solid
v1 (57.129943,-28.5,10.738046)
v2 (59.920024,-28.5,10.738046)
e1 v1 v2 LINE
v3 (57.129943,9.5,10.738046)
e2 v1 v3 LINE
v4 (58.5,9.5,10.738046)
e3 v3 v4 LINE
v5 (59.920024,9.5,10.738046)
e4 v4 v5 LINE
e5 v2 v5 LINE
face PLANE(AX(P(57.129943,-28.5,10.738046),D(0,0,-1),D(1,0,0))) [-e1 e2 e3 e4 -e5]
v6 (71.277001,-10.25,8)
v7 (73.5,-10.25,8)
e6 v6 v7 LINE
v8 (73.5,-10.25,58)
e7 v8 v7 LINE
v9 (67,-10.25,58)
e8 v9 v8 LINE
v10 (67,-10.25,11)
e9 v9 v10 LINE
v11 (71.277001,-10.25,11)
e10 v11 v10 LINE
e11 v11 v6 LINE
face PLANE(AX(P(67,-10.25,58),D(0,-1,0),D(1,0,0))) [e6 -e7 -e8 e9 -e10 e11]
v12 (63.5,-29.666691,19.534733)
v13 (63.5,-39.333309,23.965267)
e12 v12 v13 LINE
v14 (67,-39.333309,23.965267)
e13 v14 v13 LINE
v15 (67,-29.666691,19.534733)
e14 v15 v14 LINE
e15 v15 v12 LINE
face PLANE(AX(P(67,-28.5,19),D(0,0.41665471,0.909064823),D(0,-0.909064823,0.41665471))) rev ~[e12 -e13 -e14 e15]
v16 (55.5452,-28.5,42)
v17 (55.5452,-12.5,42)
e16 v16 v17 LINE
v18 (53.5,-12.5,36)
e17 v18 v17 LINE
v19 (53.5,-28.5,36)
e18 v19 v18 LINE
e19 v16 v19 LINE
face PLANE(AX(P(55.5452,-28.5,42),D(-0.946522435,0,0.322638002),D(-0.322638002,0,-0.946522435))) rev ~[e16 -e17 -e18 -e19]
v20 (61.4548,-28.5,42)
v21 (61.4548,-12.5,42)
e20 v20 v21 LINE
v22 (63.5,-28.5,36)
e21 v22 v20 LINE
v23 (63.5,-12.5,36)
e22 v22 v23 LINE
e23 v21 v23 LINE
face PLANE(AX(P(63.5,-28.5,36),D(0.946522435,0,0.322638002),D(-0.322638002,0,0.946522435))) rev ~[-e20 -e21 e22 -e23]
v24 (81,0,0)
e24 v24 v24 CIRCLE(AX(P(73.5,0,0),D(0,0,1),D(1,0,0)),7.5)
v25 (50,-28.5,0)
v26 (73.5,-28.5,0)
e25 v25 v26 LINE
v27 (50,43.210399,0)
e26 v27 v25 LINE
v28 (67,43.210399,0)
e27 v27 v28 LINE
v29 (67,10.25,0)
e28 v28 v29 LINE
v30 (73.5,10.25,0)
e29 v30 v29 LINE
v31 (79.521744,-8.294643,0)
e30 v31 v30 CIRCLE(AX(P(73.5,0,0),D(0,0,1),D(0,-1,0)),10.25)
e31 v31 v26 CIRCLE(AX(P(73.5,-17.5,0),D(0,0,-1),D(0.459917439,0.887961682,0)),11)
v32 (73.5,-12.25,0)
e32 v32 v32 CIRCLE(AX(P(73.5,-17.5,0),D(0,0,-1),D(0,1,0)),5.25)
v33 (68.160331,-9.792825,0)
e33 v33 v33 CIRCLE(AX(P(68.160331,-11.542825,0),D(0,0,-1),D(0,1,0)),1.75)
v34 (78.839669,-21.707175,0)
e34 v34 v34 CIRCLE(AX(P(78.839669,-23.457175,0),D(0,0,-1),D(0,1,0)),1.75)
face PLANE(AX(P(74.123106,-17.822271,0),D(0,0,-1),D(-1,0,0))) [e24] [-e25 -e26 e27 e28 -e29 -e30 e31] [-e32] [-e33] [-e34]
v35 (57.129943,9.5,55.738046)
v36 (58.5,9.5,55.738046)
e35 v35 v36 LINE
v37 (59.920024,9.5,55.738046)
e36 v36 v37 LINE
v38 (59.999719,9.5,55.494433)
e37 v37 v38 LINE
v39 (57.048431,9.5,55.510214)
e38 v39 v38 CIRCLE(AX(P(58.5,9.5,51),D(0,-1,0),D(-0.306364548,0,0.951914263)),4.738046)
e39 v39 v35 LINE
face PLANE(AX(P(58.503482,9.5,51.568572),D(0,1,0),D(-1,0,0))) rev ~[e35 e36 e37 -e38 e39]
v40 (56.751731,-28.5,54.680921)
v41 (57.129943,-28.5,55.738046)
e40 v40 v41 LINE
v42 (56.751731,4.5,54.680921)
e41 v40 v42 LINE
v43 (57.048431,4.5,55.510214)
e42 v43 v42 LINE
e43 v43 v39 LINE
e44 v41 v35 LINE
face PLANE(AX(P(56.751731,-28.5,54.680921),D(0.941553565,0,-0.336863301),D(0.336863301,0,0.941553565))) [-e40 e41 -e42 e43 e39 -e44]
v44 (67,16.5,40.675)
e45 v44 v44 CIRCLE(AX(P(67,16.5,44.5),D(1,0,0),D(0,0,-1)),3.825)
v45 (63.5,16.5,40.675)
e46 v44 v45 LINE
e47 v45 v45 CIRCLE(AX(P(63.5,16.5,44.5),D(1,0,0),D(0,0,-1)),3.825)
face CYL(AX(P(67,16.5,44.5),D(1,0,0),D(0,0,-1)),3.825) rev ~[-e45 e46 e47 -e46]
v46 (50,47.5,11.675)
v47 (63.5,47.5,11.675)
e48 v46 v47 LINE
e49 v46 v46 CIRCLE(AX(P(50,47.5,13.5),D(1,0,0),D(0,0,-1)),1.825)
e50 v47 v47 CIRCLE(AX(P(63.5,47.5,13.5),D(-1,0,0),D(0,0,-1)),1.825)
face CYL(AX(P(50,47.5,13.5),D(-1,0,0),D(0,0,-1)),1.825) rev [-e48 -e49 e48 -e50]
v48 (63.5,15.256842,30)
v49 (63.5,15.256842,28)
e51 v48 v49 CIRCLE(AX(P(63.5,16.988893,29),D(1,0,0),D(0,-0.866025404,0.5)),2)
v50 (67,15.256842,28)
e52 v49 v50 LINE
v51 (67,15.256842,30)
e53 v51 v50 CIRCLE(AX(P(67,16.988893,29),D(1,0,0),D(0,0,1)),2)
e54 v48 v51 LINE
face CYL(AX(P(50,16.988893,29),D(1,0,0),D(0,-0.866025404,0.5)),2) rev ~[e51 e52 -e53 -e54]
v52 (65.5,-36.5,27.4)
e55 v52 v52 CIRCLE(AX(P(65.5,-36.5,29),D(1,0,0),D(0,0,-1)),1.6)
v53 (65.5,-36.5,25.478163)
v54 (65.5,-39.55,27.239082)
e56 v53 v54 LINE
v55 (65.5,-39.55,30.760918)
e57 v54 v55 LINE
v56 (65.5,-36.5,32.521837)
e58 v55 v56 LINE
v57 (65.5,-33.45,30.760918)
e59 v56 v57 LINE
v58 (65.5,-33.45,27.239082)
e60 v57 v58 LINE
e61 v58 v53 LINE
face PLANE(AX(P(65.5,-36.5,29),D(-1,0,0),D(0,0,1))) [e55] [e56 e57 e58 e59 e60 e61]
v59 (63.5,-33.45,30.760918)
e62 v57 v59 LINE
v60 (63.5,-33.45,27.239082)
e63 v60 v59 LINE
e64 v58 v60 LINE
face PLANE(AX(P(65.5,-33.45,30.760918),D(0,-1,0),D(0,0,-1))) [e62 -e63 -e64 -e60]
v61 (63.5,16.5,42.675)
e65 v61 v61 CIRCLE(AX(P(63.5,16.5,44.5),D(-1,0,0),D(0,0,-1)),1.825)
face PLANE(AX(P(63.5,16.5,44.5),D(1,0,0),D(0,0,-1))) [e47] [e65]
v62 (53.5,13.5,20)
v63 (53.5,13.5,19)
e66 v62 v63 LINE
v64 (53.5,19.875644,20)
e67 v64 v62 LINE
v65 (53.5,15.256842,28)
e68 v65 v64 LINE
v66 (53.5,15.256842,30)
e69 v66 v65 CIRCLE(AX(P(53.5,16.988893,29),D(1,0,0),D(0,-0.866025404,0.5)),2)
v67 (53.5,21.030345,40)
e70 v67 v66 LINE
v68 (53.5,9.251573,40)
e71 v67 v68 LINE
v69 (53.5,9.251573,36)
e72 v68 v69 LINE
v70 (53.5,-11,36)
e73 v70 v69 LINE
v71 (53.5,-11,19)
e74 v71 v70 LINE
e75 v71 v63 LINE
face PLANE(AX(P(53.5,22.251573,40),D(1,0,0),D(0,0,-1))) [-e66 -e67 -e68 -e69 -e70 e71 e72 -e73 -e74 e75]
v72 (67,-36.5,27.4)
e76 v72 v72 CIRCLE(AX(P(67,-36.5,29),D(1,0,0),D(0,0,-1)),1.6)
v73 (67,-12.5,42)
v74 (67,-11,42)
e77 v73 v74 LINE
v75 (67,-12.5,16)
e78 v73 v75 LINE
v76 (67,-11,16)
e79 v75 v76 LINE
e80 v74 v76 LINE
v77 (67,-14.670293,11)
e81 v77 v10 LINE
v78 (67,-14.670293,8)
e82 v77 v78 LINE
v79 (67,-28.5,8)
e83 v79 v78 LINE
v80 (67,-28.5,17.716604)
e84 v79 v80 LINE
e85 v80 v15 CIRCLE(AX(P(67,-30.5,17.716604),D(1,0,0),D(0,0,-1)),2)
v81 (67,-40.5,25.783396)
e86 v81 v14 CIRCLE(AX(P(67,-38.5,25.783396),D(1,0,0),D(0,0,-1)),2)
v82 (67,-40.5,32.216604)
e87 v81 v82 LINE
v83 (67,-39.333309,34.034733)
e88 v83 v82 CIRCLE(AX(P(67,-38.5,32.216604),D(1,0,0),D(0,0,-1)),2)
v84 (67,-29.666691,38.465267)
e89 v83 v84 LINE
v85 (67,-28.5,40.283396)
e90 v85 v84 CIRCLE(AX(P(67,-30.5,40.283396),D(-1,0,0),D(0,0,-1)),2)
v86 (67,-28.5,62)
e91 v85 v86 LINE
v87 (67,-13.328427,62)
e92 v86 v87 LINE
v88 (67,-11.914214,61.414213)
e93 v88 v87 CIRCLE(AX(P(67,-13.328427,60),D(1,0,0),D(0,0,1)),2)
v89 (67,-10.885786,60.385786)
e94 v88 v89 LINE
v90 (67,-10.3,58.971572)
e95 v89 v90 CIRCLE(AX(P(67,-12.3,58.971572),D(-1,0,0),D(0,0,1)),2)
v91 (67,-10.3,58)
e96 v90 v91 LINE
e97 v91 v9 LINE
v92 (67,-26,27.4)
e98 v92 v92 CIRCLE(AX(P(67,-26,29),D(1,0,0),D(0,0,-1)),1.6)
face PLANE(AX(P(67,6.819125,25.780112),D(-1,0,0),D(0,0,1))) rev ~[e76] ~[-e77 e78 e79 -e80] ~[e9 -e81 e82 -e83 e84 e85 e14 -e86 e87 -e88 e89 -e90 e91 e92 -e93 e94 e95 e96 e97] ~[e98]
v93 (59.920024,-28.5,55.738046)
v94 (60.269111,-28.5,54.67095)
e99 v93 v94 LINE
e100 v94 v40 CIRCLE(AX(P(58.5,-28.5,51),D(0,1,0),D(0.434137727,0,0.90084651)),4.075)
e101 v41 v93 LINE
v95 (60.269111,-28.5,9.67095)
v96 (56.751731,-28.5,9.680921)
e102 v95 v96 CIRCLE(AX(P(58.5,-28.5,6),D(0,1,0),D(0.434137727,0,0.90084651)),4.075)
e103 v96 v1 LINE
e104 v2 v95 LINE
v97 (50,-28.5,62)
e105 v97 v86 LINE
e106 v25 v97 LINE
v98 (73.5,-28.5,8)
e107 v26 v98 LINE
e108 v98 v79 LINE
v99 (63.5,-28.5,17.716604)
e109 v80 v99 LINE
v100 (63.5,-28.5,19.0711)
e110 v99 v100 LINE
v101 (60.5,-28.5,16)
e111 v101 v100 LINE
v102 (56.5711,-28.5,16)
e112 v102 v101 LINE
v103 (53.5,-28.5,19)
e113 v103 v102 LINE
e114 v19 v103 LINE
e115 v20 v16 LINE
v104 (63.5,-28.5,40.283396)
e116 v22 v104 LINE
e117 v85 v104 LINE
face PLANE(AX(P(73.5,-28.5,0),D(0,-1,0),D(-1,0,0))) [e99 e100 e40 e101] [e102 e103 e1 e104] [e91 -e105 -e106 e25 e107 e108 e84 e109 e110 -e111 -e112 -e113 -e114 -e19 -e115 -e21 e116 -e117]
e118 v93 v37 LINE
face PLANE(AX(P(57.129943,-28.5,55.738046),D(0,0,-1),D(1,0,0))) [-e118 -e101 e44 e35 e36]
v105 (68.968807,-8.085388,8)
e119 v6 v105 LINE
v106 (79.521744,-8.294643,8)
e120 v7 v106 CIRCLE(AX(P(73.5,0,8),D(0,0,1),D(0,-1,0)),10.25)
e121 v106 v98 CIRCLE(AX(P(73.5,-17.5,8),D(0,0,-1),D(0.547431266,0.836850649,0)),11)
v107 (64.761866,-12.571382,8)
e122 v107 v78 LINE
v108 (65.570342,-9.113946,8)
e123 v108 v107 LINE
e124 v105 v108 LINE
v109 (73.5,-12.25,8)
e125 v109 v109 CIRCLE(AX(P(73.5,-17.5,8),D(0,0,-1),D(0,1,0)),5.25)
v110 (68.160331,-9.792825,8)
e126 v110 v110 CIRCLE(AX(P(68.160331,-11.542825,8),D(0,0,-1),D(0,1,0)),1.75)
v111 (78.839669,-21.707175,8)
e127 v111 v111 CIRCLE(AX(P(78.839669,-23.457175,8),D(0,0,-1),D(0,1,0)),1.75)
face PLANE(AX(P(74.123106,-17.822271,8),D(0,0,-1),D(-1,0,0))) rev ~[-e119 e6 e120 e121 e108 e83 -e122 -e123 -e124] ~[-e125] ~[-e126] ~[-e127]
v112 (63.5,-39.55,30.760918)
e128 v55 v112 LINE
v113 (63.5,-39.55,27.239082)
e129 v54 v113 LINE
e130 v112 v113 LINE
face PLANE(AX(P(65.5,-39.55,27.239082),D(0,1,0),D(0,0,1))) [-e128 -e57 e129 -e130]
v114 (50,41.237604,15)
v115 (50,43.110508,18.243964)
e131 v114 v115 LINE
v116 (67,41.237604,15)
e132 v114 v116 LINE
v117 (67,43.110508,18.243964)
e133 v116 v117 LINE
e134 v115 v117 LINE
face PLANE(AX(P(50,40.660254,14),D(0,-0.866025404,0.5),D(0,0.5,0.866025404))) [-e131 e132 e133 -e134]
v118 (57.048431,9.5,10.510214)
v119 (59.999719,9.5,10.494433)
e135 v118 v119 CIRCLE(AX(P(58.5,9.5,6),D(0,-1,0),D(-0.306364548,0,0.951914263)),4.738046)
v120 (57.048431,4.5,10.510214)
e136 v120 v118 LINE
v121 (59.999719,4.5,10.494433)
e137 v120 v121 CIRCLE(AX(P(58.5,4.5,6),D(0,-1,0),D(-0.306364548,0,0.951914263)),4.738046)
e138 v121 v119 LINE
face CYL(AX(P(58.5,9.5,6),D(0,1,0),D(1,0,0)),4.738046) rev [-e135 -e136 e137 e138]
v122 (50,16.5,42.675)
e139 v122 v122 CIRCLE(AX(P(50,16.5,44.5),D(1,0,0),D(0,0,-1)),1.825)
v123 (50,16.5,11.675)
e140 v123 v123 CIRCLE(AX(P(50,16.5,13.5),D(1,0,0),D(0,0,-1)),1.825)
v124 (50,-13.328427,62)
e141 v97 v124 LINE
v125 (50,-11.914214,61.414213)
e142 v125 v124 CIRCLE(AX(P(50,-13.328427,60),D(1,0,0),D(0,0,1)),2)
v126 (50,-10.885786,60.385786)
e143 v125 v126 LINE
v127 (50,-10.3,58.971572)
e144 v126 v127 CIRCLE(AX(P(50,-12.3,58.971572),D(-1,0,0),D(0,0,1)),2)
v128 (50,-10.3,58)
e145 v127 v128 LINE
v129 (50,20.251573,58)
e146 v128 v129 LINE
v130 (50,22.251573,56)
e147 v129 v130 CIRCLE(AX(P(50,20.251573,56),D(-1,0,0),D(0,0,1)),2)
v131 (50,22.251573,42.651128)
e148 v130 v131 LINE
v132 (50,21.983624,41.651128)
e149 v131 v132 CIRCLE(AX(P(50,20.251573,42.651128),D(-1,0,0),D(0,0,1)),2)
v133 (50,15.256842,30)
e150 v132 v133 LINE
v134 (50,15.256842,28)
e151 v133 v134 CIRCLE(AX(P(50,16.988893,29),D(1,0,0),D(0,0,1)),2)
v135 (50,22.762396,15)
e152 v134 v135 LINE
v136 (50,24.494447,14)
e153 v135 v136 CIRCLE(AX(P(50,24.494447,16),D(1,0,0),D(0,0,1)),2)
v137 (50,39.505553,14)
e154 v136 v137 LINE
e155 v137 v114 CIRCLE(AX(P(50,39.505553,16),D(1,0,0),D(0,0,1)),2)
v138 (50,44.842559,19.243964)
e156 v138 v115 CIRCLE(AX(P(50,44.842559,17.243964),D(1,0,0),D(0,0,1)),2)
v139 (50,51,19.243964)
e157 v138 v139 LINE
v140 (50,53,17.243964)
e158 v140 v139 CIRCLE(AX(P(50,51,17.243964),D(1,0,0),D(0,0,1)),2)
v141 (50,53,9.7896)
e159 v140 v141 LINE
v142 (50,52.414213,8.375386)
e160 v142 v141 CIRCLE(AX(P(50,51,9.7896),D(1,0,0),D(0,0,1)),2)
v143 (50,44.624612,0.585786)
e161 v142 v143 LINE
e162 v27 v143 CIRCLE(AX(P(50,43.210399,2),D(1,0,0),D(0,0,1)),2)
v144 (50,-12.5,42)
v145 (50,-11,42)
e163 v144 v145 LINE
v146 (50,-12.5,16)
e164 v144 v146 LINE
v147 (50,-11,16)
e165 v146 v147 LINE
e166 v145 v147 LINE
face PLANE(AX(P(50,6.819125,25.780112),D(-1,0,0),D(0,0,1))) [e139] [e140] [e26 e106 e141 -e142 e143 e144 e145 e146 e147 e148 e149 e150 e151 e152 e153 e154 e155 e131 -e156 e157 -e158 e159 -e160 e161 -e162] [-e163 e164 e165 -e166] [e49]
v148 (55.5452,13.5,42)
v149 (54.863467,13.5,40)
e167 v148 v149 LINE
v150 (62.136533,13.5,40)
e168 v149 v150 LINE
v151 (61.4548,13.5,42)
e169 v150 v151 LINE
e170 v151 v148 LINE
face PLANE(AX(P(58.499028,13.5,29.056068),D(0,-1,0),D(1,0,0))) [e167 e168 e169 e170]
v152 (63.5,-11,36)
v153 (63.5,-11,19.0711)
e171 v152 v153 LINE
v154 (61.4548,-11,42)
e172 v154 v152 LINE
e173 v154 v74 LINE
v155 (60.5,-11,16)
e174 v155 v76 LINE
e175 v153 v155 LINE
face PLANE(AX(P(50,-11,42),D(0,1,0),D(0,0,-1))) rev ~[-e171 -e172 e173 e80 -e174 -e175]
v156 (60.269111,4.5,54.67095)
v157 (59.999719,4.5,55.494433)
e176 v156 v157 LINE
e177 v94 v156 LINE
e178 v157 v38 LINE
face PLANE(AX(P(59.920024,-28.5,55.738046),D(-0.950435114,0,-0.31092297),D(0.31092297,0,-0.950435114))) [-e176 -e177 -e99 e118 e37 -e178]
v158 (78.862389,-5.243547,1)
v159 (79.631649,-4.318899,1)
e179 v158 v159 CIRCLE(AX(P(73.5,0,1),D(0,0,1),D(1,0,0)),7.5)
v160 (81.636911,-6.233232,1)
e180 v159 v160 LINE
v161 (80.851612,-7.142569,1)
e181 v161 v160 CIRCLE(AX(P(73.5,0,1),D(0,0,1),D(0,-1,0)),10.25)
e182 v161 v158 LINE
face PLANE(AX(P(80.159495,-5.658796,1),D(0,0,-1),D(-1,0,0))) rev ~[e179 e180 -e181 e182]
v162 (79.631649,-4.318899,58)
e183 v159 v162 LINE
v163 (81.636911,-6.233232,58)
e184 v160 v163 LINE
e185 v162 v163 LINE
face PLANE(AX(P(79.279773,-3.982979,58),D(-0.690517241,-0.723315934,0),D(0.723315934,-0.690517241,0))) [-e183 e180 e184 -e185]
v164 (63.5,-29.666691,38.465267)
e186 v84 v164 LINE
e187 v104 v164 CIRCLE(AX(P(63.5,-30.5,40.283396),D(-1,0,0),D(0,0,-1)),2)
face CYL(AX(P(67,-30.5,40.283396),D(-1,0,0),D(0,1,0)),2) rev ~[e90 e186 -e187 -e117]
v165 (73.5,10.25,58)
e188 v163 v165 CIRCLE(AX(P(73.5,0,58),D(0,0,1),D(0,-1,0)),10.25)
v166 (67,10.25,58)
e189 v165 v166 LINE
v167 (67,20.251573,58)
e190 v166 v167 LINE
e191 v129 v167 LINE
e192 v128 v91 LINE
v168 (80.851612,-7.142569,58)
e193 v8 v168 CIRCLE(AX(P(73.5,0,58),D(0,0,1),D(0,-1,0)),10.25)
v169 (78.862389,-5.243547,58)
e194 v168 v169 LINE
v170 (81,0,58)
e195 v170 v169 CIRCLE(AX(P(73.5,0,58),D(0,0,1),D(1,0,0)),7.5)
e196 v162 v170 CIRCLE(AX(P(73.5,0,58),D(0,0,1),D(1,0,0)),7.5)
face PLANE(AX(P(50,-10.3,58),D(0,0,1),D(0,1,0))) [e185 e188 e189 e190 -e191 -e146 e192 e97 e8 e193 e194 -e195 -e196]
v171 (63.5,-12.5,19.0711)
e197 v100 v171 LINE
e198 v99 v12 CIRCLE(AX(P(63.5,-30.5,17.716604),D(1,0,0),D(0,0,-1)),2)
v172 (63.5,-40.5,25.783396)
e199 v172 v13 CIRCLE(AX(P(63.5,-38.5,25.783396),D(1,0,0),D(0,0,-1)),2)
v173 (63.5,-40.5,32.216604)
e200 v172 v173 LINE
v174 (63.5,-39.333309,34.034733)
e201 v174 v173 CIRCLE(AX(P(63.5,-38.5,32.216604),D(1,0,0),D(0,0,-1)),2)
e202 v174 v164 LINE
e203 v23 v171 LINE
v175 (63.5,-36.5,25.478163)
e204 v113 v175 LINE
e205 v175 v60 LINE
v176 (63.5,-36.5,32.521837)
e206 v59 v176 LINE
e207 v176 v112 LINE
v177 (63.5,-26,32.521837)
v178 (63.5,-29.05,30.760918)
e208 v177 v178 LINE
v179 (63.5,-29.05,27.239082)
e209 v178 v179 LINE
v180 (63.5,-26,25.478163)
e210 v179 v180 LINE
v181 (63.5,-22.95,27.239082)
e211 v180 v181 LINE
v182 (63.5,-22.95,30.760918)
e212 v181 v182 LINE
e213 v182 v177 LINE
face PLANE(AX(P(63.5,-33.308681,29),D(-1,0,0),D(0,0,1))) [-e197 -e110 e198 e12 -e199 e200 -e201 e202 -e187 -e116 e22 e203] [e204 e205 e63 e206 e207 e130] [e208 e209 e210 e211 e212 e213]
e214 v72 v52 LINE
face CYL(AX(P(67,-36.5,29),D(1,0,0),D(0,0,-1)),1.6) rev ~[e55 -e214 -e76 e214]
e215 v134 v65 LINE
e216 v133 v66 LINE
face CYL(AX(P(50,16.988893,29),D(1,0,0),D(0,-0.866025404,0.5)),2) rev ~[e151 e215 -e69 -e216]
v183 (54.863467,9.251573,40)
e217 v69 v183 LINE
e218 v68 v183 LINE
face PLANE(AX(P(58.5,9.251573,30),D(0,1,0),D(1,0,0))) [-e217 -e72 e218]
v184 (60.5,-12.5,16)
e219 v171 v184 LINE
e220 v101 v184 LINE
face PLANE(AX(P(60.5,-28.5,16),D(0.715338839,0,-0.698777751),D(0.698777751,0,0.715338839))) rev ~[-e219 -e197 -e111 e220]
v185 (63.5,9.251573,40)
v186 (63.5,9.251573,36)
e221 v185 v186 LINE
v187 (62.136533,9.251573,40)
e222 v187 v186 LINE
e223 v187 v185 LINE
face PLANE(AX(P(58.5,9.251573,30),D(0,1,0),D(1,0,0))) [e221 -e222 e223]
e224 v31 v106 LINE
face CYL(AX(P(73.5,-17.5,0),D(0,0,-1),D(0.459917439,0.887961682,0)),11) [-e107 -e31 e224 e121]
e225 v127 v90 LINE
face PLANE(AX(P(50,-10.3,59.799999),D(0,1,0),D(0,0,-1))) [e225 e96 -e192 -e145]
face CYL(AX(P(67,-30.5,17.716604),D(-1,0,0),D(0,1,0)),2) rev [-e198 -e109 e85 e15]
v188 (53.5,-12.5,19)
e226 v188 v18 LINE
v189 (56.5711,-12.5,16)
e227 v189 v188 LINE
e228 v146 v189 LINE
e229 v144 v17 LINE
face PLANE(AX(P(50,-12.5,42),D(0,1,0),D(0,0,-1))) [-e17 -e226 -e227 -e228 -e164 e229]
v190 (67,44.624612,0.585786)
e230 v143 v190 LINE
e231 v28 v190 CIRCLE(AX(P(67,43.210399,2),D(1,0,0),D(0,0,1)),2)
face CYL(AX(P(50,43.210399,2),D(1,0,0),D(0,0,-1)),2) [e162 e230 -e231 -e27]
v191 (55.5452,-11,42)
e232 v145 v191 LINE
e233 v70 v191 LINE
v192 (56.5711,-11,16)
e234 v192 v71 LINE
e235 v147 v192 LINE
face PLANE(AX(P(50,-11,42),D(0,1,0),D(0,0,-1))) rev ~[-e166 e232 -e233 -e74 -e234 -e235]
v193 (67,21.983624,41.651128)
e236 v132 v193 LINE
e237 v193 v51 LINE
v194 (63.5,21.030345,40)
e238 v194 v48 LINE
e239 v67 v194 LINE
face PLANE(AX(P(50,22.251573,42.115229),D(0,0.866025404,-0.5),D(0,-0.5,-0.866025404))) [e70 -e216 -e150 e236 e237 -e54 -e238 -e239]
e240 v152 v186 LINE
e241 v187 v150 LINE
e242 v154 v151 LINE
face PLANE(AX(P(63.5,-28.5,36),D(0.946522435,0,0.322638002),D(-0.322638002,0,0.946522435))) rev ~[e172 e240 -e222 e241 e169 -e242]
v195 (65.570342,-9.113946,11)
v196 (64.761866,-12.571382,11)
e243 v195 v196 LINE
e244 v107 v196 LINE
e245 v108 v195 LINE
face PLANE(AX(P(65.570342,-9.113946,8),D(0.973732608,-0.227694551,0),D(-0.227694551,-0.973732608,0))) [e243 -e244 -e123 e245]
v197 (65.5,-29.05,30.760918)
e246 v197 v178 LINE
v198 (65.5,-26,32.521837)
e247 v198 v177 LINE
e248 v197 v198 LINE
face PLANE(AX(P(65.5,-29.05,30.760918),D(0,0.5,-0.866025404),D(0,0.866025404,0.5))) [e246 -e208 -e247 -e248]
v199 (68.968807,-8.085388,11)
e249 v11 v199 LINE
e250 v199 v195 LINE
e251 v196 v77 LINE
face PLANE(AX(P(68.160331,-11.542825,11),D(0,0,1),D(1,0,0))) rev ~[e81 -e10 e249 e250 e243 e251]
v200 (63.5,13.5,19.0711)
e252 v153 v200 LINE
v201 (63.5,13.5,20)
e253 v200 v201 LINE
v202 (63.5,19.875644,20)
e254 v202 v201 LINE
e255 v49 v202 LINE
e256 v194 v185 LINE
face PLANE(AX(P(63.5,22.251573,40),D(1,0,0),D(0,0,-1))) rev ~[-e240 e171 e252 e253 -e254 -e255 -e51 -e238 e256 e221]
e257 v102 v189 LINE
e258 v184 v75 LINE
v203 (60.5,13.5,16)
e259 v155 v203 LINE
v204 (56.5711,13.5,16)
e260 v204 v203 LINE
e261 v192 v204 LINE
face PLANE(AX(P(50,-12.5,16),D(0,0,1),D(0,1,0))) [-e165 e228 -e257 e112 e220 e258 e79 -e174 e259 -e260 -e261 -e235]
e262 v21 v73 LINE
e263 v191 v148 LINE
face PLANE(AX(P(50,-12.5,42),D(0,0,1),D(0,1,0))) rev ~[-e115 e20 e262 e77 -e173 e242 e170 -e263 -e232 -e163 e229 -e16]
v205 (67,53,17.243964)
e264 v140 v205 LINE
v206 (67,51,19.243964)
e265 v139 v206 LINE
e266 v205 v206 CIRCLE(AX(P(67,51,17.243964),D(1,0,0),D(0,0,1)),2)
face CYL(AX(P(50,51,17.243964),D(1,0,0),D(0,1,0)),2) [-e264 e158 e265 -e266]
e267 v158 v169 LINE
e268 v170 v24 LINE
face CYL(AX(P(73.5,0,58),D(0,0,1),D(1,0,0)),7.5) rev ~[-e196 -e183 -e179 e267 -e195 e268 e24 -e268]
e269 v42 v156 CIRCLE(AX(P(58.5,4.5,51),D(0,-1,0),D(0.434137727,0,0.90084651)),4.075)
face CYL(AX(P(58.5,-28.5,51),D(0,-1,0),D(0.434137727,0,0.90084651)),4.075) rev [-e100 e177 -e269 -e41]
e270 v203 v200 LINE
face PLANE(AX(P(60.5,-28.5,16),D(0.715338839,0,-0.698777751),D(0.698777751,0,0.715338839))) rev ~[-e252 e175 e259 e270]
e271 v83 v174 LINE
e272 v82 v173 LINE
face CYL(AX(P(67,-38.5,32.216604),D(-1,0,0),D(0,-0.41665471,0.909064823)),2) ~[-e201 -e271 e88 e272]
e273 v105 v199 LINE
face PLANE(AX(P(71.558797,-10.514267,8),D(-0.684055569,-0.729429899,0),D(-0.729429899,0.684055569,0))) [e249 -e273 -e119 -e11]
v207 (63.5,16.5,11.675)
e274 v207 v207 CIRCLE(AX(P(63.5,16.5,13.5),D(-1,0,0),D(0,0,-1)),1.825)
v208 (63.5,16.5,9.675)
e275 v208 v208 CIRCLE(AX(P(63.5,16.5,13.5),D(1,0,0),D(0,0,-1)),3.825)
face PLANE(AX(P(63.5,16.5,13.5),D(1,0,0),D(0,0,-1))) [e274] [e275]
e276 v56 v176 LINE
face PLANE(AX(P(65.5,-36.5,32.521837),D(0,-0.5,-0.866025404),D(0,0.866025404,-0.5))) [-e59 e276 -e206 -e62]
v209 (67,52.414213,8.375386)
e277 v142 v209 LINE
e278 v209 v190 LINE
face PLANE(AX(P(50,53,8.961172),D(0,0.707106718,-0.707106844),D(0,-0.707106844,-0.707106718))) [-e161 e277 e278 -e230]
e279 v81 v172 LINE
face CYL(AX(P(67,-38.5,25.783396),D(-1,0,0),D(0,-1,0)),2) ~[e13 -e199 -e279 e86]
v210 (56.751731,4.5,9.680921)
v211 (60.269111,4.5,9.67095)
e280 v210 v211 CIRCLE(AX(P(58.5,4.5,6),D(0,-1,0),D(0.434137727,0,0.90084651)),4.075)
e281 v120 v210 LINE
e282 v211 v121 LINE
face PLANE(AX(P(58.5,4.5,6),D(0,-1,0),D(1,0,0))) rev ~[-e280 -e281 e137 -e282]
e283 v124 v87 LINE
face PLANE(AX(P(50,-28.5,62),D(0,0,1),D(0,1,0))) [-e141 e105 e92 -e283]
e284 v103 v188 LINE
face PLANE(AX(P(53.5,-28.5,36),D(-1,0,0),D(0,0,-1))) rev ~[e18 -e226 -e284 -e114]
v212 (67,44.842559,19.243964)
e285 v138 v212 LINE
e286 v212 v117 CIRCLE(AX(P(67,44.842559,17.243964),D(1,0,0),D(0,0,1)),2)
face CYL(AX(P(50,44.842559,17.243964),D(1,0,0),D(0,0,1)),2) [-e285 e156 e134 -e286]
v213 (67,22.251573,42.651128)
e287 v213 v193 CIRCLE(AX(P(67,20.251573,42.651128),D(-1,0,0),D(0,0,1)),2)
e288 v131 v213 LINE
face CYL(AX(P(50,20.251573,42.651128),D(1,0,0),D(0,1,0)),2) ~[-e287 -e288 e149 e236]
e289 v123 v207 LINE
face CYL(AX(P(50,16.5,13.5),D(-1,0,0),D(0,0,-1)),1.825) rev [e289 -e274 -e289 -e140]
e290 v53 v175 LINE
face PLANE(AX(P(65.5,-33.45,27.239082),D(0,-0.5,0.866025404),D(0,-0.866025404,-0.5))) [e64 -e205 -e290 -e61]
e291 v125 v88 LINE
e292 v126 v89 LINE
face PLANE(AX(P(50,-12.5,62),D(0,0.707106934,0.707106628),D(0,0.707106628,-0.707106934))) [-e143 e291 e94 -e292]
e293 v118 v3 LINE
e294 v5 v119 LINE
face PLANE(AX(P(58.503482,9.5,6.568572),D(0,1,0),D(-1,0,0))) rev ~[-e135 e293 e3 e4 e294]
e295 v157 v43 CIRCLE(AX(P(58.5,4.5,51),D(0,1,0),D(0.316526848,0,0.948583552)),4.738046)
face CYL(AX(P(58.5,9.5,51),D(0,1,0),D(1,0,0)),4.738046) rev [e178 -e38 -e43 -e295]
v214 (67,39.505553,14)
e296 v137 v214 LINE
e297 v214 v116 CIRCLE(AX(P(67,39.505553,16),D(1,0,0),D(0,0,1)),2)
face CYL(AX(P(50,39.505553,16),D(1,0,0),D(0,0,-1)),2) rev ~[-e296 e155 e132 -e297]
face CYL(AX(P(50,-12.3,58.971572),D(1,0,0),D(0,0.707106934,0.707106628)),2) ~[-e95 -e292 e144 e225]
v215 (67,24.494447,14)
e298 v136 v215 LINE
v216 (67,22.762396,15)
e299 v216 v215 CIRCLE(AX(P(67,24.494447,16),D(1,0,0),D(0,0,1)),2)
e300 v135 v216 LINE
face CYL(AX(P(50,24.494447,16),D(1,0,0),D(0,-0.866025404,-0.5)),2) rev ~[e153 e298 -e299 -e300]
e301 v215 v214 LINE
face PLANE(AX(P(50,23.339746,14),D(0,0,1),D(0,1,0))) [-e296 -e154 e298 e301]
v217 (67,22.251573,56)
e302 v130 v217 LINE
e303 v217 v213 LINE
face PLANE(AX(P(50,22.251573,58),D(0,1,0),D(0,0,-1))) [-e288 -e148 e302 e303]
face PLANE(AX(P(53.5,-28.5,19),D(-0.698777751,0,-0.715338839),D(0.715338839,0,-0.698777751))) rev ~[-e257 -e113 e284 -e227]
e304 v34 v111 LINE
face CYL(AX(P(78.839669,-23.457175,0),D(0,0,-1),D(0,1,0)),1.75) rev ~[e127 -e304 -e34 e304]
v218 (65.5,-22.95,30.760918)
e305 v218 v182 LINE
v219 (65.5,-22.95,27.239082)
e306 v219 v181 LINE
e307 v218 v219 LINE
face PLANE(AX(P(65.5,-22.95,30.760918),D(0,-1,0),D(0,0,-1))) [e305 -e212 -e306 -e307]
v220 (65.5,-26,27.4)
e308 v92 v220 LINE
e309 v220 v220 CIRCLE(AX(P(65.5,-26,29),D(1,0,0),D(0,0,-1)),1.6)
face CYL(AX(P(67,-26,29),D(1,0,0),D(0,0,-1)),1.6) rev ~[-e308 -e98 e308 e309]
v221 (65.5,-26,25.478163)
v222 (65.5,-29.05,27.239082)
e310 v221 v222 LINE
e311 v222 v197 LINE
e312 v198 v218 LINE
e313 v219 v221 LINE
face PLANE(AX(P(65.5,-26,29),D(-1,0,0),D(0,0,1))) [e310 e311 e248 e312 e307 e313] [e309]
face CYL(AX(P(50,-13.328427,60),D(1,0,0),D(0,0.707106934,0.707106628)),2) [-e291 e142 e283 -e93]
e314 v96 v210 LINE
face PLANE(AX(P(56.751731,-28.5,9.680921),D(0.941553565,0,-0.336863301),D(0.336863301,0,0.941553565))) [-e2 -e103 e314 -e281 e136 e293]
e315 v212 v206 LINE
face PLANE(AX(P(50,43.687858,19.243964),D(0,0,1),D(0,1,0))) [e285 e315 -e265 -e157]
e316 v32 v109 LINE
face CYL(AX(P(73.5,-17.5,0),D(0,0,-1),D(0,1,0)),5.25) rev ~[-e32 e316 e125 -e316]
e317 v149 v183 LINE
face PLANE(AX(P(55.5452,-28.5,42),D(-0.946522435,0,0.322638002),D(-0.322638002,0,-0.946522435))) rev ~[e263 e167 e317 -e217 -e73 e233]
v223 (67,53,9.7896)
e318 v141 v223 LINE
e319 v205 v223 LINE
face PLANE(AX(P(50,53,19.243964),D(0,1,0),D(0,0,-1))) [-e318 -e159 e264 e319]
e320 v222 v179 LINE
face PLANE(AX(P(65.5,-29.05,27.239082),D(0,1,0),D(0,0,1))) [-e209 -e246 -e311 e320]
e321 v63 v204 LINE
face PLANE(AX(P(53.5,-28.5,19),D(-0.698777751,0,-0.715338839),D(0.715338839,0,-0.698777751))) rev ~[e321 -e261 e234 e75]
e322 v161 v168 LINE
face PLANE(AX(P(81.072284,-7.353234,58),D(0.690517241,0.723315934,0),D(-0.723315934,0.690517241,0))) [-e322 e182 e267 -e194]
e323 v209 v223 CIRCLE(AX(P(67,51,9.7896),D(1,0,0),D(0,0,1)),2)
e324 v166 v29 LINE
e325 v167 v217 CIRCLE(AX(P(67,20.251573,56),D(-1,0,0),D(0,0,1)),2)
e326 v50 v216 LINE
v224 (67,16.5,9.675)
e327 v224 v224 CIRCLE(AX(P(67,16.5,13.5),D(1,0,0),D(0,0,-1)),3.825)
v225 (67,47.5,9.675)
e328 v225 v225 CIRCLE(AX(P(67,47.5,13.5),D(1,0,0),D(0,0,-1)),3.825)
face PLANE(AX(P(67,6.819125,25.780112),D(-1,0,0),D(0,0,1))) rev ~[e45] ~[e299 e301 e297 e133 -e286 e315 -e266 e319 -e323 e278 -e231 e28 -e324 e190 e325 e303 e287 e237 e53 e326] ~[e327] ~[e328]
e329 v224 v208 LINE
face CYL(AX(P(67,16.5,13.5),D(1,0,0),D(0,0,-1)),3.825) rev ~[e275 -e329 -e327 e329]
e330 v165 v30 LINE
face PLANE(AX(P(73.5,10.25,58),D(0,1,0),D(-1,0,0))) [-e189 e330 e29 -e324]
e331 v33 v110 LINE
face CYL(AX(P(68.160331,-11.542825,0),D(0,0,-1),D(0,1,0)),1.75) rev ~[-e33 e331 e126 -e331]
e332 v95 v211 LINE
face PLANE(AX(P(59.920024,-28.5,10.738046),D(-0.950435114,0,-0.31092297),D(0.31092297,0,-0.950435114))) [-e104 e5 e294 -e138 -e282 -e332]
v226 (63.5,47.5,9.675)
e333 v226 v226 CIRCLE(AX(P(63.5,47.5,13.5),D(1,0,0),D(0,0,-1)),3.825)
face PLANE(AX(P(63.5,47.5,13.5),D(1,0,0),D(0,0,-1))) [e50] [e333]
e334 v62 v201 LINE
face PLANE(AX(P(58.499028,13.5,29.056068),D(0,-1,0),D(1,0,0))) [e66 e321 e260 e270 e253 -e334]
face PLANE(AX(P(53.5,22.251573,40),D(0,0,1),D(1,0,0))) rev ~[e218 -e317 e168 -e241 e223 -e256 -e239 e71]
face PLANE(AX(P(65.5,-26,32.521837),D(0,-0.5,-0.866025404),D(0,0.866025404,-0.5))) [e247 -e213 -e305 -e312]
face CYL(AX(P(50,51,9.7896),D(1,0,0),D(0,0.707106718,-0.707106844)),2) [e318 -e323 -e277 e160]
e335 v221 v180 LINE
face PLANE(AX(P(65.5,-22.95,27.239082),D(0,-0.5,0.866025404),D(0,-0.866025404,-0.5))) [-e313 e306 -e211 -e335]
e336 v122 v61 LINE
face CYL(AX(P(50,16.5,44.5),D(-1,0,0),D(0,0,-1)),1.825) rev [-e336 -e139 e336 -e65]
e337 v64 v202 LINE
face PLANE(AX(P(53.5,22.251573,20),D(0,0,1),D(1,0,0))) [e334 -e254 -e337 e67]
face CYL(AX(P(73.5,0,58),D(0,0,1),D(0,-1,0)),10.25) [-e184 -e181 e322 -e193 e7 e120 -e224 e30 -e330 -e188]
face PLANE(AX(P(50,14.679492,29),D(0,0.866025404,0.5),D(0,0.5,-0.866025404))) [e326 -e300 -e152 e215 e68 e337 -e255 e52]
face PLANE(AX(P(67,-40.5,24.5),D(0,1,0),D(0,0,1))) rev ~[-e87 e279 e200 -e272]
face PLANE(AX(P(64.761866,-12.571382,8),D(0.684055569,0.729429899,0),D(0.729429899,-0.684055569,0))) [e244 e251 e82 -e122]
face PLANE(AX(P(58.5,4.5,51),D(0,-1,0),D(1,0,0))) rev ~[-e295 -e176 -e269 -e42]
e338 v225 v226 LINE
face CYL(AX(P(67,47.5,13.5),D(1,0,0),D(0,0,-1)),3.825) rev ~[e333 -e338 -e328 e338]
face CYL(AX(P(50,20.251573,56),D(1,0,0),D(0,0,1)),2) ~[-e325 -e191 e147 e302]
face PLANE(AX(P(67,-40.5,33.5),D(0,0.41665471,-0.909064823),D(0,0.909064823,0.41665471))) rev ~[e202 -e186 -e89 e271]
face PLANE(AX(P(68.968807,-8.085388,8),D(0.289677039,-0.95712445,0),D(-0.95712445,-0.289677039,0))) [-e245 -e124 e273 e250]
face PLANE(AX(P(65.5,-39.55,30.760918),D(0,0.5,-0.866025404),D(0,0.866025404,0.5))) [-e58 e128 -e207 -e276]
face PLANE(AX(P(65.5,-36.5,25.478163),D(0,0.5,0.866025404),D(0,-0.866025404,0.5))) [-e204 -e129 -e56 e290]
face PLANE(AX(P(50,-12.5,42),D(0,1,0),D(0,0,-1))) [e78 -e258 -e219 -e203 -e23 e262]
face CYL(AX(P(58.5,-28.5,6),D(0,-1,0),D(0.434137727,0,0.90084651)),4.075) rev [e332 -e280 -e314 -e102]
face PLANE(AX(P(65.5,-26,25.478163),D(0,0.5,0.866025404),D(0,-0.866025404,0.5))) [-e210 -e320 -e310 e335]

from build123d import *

# Parameters (mm, degrees)
SKETCH1_R           = 1.825
SKETCH1_W           = 26
SKETCH1_H           = 1.5
BOSS_EXTRUDE1_DEPTH = 17
BOSS_EXTRUDE2_DEPTH = 58
BOSS_EXTRUDE4_DEPTH = 3.5
SKETCH9_R           = 7.5
CUT_EXTRUDE5_DEPTH  = 61
SKETCH18_R          = 1.6
CUT_EXTRUDE12_DEPTH = 5.5
CUT_EXTRUDE13_START = 1.5
CUT_EXTRUDE13_DEPTH = 3.5
FILLET1_R           = 2
SKETCH3_W           = 10
SKETCH3_H           = 20
CUT_EXTRUDE1_DEPTH  = 13
CUT_EXTRUDE2_DEPTH  = 42
SKETCH5_R           = 3.825
SKETCH5_R_2         = 9.1924e-05
CUT_EXTRUDE3_DEPTH  = 3.5
CUT_EXTRUDE4_DEPTH  = 38
SKETCH11_R          = 5.25
BOSS_EXTRUDE3_DEPTH = 8
CUT_EXTRUDE6_DEPTH  = 57
SKETCH12_R          = 1.75
CUT_EXTRUDE9_DEPTH  = 10
CUT_EXTRUDE10_DEPTH = 3
SKETCH20_R          = 4.738046486
CUT_EXTRUDE14_DEPTH = 5


with BuildPart() as part:
    # Sketch1 → Boss-Extrude1 (new body)
    with BuildSketch(Plane(origin=(50, 0, 0), x_dir=(0, 0, -1), z_dir=(1, 0, 0))):
        Polygon((-62, -12.5), (-59.799999237, -10.300000191), (-58, -10.300000191), (-58, 22.251573162), (-42.115229422, 22.251573162), (-29, 14.679491924), (-14, 23.339745962), (-14, 40.660254038), (-19.243964356, 43.68785827), (-19.243964356, 53), (-8.961172368, 53), (0, 44.038826034), (0, -28.5), (-62, -28.5), align=None)
        with Locations((-44.5, 16.5)):
            Circle(SKETCH1_R, mode=Mode.SUBTRACT)
        with Locations((-13.5, 16.5)):
            Circle(SKETCH1_R, mode=Mode.SUBTRACT)
        with Locations((-13.5, 47.5)):
            Circle(SKETCH1_R, mode=Mode.SUBTRACT)
        with Locations((-29, -11.75)):
            Rectangle(SKETCH1_W, SKETCH1_H, mode=Mode.SUBTRACT)
    extrude(amount=BOSS_EXTRUDE1_DEPTH)

    # Sketch8 → Boss-Extrude2 (add)
    with BuildSketch(Plane.XY.offset(58)):
        with BuildLine():
            ThreePointArc((73.5, -10.25), (83.75, 0), (73.5, 10.25))
            Line((73.5, 10.25), (67, 10.25))
            Line((67, 10.25), (67, -10.25))
            Line((67, -10.25), (73.5, -10.25))
        make_face()
    extrude(amount=-BOSS_EXTRUDE2_DEPTH)

    # Sketch17 → Boss-Extrude4 (add)
    with BuildSketch(Plane(origin=(67, 0, 0), x_dir=(0, 0, -1), z_dir=(1, 0, 0))):
        Polygon((-33.5, -40.5), (-39, -28.5), (-19, -28.5), (-24.5, -40.5), align=None)
    extrude(amount=-BOSS_EXTRUDE4_DEPTH)

    # Sketch9 → Cut-Extrude5 (cut)
    with BuildSketch(Plane.XY.offset(58)):
        with Locations((73.5, 0)):
            Circle(SKETCH9_R)
    extrude(amount=-CUT_EXTRUDE5_DEPTH, mode=Mode.SUBTRACT)

    # Sketch18 → Cut-Extrude12 (cut)
    with BuildSketch(Plane(origin=(67, 0, 0), x_dir=(0, 0, -1), z_dir=(1, 0, 0))):
        with Locations((-29, -36.5)):
            Circle(SKETCH18_R)
        with Locations((-29, -26)):
            Circle(SKETCH18_R)
    extrude(amount=-CUT_EXTRUDE12_DEPTH, mode=Mode.SUBTRACT)

    # Sketch19 → Cut-Extrude13 (cut)
    with BuildSketch(Plane.ZY.offset(-67).offset(CUT_EXTRUDE13_START)):
        Polygon((30.760918321, -33.45), (27.239081679, -33.45), (25.478163358, -36.5), (27.239081679, -39.55), (30.760918321, -39.55), (32.521836642, -36.5), align=None)
        Polygon((32.521836642, -26), (30.760918321, -22.95), (27.239081679, -22.95), (25.478163358, -26), (27.239081679, -29.05), (30.760918321, -29.05), align=None)
    extrude(amount=CUT_EXTRUDE13_DEPTH, mode=Mode.SUBTRACT)

    # Fillet1
    fillet1_edges = [part.edges().sort_by_distance(p)[0] for p in [
        (58.5, -12.5, 62),
        (58.5, -10.300000191, 59.799999237),
        (58.5, 22.251573162, 58),
        (58.5, 22.251573162, 42.115229422),
        (58.5, 14.679491924, 29),
        (58.5, 23.339745962, 14),
        (58.5, 40.660254038, 14),
        (58.5, 43.68785827, 19.243964356),
        (58.5, 53, 19.243964356),
        (58.5, 53, 8.961172368),
        (58.5, 44.038826034, 0),
        (65.25, -40.5, 24.5),
        (65.25, -40.5, 33.5),
        (65.25, -28.5, 39),
        (65.25, -28.5, 19),
    ]]
    fillet(fillet1_edges, radius=FILLET1_R)

    # Sketch3 → Cut-Extrude1 (cut)
    with BuildSketch(Plane(origin=(0, 22.251573162, 0), x_dir=(1, 0, 0), z_dir=(0, 1, 0))):
        with Locations((58.5, -30)):
            Rectangle(SKETCH3_W, SKETCH3_H)
    extrude(amount=-CUT_EXTRUDE1_DEPTH, mode=Mode.SUBTRACT)

    # Sketch4 → Cut-Extrude2 (cut)
    with BuildSketch(Plane.XZ.offset(28.5)):
        Polygon((53.5, 19), (56.571100235, 16), (60.5, 16), (63.5, 19.071100235), (63.5, 36), (61.454799652, 42), (55.545200348, 42), (53.5, 36), align=None)
    extrude(amount=-CUT_EXTRUDE2_DEPTH, mode=Mode.SUBTRACT)

    # Sketch5 → Cut-Extrude3 (cut)
    # profile 1 of 3: a face of its own
    with BuildSketch(Plane(origin=(67, 0, 0), x_dir=(0, 0, -1), z_dir=(1, 0, 0))):
        with Locations((-13.5, 16.5)):
            Circle(SKETCH5_R)
    # profile 2 of 3: a face of its own
    with BuildSketch(Plane(origin=(67, 0, 0), x_dir=(0, 0, -1), z_dir=(1, 0, 0))):
        with Locations((-44.5, 16.5)):
            Circle(SKETCH5_R)
    # profile 3 of 3: a face of its own
    with BuildSketch(Plane(origin=(67, 0, 0), x_dir=(0, 0, -1), z_dir=(1, 0, 0))):
        with Locations((-13.5, 47.5)):
            Circle(SKETCH5_R)
        with Locations((-13.5, 47.5)):
            Circle(SKETCH5_R_2, mode=Mode.SUBTRACT)
    extrude(amount=-CUT_EXTRUDE3_DEPTH, mode=Mode.SUBTRACT)

    # Sketch7 → Cut-Extrude4 (cut)
    with BuildSketch(Plane.XZ.offset(28.5)):
        with BuildLine():
            Line((56.751731208, 54.680921248), (57.129943038, 55.738046486))
            Line((57.129943038, 55.738046486), (59.920023802, 55.738046486))
            Line((59.920023802, 55.738046486), (60.269111237, 54.670949527))
            ThreePointArc((60.269111237, 54.670949527), (58.488447481, 46.925016376), (56.751731208, 54.680921248))
        make_face()
        with BuildLine():
            Line((56.751731208, 9.680921248), (57.129943038, 10.738046486))
            Line((57.129943038, 10.738046486), (59.920023802, 10.738046486))
            Line((59.920023802, 10.738046486), (60.269111237, 9.670949527))
            ThreePointArc((60.269111237, 9.670949527), (58.488447481, 1.925016376), (56.751731208, 9.680921248))
        make_face()
    extrude(amount=-CUT_EXTRUDE4_DEPTH, mode=Mode.SUBTRACT)

    # Sketch11 → Boss-Extrude3 (add)
    with BuildSketch(Plane(origin=(0, 0, 0), x_dir=(-1, 0, 0), z_dir=(0, 0, -1))):
        with BuildLine():
            Line((-73.5, -28.5), (-67, -28.5))
            Line((-67, -28.5), (-67, -7.732421496))
            Line((-67, -7.732421496), (-78.559091832, -7.732421496))
            ThreePointArc((-78.559091832, -7.732421496), (-84.18745441, -20.103520353), (-73.5, -28.5))
        make_face()
        with Locations(Location((-73.5, -17.5, 0), (0, 0, 90))):
            Circle(SKETCH11_R, mode=Mode.SUBTRACT)
    extrude(amount=-BOSS_EXTRUDE3_DEPTH)

    # Sketch10 → Cut-Extrude6 (cut)
    with BuildSketch(Plane.XY.offset(58)):
        Polygon((81.072283805, -7.35323434), (78.440260846, -4.840560214), (79.279772993, -3.982978679), (81.857582145, -6.443897318), align=None)
    extrude(amount=-CUT_EXTRUDE6_DEPTH, mode=Mode.SUBTRACT)

    # Sketch12 → Cut-Extrude9 (cut)
    with BuildSketch(Plane(origin=(0, 0, 0), x_dir=(-1, 0, 0), z_dir=(0, 0, -1))):
        with Locations(Location((-68.16033141, -11.542824549, 0), (0, 0, 90))):
            Circle(SKETCH12_R)
        with Locations(Location((-78.83966859, -23.457175451, 0), (0, 0, 90))):
            Circle(SKETCH12_R)
    extrude(amount=-CUT_EXTRUDE9_DEPTH, mode=Mode.SUBTRACT)

    # Sketch13 → Cut-Extrude10 (cut)
    with BuildSketch(Plane.XY.offset(8)):
        Polygon((82.389929098, -23.513303191), (80.663406893, -20.410623531), (77.113146384, -20.354495791), (75.289408081, -23.401047711), (77.015930287, -26.503727371), (80.566190795, -26.559855111), align=None)
        Polygon((67.351855423, -15.000260966), (70.750321186, -13.971703501), (71.558797173, -10.514267084), (68.968807398, -8.085388132), (65.570341635, -9.113945597), (64.761865648, -12.571382014), align=None)
    extrude(amount=CUT_EXTRUDE10_DEPTH, mode=Mode.SUBTRACT)

    # Sketch20 → Cut-Extrude14 (cut)
    with BuildSketch(Plane.XZ.offset(-9.5)):
        with Locations((58.5, 6)):
            Circle(SKETCH20_R)
        with Locations((58.5, 51)):
            Circle(SKETCH20_R)
    extrude(amount=CUT_EXTRUDE14_DEPTH, mode=Mode.SUBTRACT)


solid = part.part
